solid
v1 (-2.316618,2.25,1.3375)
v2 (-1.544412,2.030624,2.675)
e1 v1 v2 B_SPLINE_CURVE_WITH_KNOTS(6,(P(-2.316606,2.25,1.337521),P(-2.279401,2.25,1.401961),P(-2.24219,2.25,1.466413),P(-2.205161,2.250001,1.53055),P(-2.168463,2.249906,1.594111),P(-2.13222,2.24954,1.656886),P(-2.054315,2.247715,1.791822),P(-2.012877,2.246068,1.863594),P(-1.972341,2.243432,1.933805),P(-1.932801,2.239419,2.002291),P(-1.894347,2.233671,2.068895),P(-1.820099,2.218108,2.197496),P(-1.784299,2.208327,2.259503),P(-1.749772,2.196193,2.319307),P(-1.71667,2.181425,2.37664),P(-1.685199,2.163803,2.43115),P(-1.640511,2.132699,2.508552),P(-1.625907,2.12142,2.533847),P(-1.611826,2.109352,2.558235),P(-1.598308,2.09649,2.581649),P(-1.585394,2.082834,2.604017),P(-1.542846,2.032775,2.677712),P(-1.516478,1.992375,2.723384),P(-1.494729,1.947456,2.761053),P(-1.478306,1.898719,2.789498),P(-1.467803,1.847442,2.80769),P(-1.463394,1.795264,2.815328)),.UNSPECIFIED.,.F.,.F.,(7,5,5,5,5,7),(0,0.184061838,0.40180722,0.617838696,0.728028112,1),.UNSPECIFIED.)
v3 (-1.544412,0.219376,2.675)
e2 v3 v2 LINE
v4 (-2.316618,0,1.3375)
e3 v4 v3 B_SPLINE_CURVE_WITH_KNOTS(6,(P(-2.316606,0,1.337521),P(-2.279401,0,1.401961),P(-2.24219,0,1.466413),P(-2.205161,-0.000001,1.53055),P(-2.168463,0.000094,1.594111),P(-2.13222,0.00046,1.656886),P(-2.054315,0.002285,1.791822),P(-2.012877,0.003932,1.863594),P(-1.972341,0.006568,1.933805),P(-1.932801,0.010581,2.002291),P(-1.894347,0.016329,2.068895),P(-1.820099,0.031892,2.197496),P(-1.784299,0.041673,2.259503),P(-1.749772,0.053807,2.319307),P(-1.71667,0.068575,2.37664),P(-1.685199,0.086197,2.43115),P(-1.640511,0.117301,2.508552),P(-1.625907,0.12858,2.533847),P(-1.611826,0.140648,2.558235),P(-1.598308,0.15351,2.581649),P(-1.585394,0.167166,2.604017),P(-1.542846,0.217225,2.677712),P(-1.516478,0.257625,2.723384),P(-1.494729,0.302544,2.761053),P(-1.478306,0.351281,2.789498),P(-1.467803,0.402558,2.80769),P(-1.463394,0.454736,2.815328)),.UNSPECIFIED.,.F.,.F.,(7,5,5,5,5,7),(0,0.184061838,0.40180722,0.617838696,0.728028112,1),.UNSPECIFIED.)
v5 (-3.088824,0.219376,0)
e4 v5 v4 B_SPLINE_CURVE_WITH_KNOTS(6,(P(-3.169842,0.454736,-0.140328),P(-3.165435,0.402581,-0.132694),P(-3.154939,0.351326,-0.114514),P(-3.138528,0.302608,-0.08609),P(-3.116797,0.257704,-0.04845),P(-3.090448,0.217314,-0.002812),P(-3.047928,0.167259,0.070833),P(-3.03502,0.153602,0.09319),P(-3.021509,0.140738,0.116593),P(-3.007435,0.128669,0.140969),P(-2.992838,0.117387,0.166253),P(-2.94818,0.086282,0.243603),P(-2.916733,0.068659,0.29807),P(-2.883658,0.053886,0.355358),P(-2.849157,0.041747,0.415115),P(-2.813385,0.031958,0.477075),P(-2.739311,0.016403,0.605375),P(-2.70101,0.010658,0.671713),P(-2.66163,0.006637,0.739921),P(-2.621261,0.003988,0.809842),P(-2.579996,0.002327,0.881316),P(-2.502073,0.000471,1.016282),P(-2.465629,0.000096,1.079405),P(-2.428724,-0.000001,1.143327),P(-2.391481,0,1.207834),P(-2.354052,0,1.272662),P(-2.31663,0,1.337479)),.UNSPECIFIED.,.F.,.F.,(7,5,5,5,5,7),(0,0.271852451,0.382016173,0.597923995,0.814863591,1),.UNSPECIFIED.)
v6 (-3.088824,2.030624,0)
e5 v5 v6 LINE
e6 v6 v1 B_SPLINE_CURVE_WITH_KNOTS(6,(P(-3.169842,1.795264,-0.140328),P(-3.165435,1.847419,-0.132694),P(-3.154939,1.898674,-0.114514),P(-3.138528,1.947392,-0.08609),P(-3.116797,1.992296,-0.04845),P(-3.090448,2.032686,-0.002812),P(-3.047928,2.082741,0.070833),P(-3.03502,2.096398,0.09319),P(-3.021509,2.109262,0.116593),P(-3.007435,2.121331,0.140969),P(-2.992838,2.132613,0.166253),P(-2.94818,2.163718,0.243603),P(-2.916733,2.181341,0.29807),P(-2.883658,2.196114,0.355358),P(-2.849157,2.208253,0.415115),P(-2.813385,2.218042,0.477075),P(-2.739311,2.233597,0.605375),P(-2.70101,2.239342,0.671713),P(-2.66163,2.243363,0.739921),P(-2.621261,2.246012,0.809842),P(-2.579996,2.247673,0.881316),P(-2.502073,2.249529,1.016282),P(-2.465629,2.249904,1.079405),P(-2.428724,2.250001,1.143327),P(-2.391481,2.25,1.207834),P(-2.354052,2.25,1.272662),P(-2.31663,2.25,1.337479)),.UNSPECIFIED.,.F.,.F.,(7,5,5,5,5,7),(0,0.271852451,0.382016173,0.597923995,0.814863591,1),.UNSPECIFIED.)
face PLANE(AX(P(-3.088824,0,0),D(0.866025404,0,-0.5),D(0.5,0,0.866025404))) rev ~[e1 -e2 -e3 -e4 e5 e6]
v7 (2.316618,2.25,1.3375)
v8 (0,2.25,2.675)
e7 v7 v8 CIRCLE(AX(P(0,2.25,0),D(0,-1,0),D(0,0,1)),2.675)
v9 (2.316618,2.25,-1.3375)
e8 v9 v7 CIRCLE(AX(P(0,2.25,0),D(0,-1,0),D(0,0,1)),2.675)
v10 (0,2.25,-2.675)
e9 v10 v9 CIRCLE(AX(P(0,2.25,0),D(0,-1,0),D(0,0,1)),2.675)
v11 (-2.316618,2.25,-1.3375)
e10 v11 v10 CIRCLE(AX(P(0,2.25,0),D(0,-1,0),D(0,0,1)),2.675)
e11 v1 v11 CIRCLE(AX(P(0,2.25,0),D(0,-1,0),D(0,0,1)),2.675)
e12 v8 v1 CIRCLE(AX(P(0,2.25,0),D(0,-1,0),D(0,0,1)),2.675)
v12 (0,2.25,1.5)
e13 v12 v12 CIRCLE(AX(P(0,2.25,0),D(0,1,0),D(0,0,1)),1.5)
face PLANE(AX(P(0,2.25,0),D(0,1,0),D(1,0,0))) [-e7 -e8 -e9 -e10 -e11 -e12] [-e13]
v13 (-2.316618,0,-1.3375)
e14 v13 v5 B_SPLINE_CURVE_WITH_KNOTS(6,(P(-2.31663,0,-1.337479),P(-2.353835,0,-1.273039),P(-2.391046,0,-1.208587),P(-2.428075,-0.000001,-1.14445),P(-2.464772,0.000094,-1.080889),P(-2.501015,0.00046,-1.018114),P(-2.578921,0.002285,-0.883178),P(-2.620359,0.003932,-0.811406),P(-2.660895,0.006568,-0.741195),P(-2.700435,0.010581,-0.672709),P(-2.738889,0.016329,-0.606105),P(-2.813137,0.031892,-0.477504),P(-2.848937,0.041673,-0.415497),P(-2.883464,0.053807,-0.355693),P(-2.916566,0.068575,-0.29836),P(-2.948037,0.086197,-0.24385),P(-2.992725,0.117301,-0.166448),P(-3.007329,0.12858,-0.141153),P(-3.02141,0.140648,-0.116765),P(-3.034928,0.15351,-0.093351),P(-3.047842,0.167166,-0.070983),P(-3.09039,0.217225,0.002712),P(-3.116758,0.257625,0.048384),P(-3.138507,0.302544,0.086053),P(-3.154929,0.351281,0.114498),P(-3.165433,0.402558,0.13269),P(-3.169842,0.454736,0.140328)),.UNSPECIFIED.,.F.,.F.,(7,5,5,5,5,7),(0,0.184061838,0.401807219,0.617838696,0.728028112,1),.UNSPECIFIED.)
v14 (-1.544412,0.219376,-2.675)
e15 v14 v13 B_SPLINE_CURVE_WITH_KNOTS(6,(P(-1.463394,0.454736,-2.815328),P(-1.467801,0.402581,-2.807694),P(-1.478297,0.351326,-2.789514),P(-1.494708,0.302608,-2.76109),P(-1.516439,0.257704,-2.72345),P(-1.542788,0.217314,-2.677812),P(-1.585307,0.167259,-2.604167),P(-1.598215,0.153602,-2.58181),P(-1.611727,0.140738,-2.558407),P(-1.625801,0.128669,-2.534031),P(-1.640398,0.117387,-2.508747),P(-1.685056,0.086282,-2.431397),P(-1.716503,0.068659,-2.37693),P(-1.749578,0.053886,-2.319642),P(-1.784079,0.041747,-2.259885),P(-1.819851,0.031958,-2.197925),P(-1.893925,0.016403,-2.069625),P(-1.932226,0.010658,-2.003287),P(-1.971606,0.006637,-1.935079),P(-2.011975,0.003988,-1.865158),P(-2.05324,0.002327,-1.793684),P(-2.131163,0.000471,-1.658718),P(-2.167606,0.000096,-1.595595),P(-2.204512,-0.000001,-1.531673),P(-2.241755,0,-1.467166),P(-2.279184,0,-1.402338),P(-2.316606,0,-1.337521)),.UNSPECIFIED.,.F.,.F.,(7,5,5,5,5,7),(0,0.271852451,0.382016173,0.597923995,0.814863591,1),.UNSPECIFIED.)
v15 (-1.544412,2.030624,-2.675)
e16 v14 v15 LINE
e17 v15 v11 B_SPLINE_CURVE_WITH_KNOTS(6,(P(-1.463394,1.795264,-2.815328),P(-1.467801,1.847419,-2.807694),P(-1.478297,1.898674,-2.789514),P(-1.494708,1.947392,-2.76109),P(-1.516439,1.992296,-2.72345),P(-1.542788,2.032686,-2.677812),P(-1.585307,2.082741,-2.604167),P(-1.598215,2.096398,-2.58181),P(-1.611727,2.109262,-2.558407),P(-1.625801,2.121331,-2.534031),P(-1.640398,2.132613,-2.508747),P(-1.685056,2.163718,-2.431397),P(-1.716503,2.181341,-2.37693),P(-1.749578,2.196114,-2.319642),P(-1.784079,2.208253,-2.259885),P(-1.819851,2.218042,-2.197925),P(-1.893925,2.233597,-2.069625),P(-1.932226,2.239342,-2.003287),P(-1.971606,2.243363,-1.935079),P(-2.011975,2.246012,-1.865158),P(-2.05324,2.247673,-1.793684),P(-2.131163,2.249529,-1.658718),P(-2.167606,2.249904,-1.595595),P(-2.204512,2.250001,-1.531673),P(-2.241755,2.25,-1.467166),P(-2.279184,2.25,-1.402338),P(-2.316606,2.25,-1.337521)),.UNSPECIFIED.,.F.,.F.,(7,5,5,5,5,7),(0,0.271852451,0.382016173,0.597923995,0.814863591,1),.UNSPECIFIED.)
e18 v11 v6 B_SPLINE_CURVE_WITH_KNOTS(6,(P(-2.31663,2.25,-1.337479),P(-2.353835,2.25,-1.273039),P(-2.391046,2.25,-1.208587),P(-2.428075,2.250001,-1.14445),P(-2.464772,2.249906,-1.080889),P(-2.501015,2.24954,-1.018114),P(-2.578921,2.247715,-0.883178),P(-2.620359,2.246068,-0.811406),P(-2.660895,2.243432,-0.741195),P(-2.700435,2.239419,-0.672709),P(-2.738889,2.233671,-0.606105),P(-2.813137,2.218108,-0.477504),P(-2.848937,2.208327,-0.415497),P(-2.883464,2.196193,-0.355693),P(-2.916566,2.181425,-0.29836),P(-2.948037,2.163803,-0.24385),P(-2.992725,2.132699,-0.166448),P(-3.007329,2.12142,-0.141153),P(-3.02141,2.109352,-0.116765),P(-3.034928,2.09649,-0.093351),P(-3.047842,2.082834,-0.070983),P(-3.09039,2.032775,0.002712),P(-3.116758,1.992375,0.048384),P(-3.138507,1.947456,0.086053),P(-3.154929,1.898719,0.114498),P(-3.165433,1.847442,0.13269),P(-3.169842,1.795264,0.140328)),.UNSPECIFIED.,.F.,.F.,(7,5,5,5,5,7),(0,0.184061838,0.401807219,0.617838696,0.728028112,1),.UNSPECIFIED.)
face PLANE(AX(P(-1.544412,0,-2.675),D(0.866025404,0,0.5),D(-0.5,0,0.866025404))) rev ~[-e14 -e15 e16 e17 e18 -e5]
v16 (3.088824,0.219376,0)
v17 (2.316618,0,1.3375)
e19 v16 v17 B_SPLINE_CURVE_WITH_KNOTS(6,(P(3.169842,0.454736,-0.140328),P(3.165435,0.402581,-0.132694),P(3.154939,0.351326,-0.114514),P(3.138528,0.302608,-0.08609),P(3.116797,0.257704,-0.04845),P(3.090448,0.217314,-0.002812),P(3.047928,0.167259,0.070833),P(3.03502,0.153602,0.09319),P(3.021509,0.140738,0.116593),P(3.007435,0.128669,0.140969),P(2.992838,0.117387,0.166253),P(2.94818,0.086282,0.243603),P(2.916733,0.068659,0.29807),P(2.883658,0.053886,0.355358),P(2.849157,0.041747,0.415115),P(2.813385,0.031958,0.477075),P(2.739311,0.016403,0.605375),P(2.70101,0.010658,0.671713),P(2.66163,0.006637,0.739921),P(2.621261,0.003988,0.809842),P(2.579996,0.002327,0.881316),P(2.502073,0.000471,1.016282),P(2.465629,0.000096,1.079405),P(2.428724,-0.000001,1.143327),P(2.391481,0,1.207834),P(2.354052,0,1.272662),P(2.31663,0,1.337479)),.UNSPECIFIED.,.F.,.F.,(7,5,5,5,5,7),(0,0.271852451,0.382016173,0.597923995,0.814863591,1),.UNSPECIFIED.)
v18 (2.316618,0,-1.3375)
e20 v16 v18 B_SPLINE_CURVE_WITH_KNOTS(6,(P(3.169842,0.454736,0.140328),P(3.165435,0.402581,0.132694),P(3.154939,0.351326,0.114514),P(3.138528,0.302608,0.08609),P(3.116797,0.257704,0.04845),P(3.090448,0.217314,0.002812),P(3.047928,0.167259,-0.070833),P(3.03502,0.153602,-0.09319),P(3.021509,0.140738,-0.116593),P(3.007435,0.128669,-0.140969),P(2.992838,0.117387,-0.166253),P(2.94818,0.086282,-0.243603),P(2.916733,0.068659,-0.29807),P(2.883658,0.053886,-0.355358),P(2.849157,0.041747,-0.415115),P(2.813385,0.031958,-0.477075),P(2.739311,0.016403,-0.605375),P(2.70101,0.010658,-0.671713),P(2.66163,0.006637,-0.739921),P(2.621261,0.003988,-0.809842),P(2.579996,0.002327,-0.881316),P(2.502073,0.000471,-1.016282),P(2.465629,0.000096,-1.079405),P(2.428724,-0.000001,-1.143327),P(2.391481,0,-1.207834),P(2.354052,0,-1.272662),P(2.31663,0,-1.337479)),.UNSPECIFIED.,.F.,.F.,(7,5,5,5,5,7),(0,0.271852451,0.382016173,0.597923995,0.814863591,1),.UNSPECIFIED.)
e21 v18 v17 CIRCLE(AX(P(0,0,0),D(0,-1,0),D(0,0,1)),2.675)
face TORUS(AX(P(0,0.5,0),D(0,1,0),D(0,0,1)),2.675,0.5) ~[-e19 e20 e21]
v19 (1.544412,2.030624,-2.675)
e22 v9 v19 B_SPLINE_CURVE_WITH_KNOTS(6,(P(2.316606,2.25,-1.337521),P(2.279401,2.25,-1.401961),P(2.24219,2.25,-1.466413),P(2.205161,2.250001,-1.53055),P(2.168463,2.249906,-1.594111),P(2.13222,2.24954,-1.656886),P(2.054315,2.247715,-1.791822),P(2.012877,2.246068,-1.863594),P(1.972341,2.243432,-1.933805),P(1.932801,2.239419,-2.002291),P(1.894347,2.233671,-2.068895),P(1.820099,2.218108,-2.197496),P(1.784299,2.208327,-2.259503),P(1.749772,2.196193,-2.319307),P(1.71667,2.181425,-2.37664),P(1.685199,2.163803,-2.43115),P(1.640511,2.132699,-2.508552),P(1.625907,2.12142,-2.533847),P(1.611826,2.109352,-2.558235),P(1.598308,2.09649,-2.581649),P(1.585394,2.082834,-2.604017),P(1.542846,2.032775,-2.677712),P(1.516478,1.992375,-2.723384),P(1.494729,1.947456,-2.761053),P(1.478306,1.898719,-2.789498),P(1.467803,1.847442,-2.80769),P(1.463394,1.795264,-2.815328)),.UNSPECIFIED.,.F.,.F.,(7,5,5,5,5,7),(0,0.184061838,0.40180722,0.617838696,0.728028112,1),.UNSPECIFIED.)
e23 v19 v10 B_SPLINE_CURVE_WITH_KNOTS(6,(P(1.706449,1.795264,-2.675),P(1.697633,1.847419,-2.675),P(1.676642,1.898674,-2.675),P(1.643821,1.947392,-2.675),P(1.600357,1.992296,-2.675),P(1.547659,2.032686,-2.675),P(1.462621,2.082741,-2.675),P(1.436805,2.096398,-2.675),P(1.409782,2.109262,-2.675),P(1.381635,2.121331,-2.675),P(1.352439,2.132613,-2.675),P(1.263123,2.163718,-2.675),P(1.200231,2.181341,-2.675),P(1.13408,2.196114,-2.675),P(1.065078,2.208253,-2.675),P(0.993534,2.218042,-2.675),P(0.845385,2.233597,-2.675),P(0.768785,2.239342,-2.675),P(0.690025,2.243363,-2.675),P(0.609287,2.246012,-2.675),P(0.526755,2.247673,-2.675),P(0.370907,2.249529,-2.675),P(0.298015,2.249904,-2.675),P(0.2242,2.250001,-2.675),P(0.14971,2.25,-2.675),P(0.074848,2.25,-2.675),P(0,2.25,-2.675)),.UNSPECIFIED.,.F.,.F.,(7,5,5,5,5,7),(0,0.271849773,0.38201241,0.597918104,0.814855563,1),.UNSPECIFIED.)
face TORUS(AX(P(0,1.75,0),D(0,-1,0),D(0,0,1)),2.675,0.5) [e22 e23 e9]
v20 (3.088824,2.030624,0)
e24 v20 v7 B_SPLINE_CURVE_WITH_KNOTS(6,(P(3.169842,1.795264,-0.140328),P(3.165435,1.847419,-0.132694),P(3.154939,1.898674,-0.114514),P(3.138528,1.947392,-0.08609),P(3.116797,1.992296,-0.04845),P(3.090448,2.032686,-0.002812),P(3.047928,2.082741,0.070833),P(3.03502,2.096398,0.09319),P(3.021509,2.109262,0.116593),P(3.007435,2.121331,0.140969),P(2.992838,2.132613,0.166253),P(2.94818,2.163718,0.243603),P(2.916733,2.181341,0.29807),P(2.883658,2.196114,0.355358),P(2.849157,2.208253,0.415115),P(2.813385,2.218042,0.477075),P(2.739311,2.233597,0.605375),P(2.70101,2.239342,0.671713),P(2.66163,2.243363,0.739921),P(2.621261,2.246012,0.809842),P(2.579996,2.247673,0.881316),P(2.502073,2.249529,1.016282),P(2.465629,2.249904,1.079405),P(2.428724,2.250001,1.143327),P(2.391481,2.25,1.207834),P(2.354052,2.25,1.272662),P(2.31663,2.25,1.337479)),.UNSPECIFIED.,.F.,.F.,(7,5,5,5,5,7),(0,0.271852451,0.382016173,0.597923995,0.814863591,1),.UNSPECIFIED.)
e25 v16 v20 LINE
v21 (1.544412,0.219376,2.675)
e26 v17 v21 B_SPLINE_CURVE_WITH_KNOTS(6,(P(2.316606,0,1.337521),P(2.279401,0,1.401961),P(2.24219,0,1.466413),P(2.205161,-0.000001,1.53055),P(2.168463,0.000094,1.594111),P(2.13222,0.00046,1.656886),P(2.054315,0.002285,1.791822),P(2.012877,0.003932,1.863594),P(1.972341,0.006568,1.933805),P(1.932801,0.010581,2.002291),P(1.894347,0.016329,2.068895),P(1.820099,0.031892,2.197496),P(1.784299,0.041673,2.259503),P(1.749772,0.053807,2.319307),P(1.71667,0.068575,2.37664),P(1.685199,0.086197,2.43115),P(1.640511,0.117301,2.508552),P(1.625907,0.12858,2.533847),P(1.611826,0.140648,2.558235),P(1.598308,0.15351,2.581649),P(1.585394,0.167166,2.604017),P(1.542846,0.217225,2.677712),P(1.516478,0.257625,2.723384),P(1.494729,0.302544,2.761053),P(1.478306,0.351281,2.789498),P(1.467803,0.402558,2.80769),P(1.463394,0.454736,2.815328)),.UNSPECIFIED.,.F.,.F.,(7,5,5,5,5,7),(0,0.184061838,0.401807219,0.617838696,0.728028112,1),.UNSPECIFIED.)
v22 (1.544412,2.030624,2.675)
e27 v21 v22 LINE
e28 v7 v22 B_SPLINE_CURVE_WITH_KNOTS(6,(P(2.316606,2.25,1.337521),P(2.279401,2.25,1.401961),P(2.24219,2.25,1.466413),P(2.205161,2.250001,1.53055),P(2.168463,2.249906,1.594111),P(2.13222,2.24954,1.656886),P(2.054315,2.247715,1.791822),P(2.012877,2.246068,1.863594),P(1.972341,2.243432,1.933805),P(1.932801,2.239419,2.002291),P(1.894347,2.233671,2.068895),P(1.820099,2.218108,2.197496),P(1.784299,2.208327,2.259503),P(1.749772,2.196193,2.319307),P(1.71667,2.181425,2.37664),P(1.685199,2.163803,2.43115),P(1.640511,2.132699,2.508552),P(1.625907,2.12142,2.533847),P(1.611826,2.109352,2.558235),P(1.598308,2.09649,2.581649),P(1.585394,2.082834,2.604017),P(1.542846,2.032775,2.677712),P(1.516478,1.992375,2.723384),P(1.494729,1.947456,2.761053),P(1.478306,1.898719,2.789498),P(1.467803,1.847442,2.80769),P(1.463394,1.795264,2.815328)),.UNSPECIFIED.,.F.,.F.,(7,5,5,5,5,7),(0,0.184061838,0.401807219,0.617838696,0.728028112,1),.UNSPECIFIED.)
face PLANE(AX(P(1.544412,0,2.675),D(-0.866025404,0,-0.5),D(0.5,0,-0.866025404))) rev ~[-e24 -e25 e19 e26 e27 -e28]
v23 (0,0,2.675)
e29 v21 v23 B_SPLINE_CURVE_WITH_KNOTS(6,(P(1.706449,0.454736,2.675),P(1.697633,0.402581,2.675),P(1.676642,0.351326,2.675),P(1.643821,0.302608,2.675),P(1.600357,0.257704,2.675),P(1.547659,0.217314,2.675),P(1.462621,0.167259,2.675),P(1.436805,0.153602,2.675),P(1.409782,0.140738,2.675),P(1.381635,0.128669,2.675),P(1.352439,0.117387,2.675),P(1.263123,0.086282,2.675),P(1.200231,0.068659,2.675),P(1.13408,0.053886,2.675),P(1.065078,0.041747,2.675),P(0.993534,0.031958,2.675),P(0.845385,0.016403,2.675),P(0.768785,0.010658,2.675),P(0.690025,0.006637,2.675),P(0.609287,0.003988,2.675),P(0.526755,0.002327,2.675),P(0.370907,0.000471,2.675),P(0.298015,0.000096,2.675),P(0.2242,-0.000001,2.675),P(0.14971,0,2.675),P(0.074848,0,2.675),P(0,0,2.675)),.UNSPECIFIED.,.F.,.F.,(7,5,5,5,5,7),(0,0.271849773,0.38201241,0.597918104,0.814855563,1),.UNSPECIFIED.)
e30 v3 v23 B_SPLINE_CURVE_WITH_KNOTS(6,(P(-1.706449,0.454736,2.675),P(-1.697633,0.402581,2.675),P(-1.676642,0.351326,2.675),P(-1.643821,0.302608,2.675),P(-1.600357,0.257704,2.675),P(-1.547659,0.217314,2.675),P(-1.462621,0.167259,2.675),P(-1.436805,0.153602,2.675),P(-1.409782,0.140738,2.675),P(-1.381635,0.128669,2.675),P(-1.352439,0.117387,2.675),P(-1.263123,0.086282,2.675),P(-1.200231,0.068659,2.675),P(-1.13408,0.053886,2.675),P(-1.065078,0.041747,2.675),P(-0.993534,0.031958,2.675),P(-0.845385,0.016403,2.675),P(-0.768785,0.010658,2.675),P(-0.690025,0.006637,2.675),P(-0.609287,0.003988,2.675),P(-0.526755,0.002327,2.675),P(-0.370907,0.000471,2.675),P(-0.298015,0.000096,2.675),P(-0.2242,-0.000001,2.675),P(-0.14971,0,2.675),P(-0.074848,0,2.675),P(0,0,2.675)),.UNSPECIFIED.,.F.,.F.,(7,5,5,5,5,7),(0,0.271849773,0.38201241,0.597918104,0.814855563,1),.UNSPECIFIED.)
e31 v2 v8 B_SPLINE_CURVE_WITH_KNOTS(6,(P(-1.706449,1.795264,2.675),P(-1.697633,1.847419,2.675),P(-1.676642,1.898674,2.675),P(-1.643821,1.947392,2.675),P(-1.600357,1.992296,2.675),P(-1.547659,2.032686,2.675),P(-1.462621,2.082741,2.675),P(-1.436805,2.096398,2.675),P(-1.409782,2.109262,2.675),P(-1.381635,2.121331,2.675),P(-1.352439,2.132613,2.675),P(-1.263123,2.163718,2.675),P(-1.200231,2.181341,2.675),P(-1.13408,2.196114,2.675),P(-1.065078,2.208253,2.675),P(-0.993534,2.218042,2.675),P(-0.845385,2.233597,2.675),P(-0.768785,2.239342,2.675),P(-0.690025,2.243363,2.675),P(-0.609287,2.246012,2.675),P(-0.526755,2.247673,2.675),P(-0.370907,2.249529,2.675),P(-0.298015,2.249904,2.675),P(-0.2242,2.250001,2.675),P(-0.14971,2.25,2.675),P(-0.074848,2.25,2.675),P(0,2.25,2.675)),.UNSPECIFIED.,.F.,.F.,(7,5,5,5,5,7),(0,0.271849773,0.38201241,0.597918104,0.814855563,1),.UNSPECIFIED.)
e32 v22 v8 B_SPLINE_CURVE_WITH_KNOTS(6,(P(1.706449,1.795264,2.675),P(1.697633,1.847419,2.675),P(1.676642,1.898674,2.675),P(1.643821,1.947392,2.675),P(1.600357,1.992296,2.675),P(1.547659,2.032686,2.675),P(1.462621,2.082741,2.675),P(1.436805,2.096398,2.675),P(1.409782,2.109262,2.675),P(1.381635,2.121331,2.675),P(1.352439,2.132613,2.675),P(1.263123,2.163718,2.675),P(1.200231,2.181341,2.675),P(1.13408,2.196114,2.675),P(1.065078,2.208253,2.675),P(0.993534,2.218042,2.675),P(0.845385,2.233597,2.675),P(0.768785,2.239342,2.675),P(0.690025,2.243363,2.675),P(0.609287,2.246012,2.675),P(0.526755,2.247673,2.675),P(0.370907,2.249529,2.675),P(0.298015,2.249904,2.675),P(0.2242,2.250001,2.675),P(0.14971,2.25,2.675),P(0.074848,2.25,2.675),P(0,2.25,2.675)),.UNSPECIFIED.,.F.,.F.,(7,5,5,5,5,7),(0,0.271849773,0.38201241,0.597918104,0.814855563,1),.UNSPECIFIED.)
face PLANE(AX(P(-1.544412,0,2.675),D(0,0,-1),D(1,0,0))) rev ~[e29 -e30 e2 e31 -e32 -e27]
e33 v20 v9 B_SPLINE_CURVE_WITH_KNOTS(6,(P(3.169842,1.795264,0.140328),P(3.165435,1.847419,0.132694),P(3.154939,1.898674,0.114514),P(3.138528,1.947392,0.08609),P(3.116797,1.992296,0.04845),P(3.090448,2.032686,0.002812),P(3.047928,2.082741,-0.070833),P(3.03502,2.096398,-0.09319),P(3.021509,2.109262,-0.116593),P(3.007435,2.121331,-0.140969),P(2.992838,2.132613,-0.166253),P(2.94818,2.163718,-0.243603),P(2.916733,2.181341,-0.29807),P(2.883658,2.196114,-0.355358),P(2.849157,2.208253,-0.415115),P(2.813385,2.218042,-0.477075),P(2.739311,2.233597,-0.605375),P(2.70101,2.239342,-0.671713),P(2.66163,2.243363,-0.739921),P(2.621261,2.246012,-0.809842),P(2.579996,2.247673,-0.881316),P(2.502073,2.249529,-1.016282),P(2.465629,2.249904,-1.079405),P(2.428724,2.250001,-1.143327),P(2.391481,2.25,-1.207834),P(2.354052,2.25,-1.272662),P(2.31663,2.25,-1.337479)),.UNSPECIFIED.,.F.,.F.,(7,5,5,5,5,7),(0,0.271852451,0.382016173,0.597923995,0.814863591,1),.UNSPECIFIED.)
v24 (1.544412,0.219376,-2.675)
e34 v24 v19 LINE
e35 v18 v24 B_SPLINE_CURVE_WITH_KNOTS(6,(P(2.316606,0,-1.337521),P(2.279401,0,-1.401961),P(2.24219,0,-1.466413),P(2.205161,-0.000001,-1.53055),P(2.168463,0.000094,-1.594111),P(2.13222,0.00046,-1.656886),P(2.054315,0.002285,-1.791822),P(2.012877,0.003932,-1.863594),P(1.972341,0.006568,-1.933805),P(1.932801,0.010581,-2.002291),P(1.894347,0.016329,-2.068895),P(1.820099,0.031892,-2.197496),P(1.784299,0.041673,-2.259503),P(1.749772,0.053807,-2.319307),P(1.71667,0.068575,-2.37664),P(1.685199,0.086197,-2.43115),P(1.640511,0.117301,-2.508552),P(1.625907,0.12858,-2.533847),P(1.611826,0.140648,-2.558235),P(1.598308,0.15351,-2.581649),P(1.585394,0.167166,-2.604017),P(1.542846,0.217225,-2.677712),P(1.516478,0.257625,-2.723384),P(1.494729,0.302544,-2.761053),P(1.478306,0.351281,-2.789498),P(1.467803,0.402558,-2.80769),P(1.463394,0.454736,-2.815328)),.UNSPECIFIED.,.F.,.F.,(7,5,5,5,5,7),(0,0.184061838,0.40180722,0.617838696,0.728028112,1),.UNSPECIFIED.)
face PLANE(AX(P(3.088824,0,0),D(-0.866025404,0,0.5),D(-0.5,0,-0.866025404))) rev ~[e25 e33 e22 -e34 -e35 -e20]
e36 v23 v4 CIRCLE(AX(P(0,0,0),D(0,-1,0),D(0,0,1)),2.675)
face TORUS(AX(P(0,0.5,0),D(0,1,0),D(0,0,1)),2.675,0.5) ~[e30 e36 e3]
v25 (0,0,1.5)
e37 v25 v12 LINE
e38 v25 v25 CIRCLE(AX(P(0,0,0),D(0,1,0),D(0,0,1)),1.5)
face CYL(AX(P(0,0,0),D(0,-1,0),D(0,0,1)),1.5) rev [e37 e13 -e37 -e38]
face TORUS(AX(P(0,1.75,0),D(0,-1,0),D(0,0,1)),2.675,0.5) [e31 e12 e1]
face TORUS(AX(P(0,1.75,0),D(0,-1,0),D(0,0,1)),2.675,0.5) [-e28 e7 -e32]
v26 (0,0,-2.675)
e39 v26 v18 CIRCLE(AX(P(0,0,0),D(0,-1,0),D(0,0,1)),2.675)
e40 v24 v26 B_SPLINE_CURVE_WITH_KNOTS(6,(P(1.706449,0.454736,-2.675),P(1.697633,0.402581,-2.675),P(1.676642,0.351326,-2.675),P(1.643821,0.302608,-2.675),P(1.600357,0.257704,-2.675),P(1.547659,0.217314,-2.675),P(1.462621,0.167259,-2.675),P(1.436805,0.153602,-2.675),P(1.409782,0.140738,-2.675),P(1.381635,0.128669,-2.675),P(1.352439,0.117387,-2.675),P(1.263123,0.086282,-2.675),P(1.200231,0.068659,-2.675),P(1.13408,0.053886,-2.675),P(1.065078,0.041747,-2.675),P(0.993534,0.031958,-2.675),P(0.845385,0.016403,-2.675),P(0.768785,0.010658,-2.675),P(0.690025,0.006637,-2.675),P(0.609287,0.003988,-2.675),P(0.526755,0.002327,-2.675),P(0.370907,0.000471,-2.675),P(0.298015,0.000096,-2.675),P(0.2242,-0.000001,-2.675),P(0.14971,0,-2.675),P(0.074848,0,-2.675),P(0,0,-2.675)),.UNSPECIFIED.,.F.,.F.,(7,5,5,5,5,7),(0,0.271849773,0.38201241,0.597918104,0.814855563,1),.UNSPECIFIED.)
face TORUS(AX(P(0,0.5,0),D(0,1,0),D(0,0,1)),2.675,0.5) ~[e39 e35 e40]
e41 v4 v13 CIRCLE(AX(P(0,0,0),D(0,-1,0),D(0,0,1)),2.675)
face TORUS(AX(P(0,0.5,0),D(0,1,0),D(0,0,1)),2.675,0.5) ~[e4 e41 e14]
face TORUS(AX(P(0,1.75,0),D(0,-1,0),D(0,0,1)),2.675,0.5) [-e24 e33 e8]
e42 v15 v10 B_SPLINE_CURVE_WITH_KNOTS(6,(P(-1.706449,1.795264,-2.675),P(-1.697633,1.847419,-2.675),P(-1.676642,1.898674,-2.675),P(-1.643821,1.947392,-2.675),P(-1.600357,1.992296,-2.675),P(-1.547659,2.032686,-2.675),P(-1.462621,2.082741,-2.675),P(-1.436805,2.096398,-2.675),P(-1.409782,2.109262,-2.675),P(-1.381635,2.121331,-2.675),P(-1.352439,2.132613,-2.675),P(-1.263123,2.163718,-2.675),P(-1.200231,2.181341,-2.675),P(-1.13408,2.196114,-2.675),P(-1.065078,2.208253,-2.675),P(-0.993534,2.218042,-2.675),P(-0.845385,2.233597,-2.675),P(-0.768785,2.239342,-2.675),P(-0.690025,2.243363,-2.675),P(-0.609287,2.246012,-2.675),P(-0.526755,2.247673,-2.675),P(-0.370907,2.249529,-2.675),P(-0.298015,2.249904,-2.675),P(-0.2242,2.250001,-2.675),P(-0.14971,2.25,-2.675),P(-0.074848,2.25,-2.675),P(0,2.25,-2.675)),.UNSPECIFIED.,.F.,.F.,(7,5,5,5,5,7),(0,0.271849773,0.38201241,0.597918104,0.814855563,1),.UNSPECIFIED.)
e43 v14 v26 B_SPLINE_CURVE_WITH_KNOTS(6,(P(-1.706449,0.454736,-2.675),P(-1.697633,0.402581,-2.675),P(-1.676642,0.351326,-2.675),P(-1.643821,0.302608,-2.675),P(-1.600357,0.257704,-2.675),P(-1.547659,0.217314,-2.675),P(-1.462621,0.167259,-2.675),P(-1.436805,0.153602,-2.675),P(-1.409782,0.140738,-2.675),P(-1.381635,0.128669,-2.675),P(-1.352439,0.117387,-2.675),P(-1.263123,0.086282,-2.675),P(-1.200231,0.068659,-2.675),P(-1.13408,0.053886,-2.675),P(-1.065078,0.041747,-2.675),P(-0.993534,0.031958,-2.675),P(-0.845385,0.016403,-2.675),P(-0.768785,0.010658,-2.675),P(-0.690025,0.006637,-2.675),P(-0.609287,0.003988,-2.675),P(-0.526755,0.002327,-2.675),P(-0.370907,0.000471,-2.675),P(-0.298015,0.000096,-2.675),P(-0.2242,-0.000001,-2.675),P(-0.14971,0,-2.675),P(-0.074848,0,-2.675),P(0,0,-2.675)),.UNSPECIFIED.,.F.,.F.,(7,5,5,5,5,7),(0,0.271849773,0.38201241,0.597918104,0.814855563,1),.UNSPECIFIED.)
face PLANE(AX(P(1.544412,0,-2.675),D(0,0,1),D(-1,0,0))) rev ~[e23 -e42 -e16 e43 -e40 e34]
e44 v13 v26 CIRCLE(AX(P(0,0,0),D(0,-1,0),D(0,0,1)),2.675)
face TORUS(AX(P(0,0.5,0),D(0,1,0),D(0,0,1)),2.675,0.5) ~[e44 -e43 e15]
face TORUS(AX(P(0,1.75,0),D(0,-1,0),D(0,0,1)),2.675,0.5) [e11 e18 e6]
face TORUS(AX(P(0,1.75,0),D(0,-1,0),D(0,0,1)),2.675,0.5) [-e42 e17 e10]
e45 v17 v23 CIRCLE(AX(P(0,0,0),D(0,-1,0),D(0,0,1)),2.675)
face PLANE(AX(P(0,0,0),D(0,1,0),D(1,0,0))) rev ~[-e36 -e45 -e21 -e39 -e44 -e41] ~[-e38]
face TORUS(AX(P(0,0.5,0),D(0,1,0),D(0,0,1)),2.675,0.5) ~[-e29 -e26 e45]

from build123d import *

# Parameters (mm, degrees)
SKETCH1_R           = 1.5
BOSS_EXTRUDE1_DEPTH = 2.25


with BuildPart() as part:
    # Sketch1 → Boss-Extrude1 (new body)
    with BuildSketch(Plane(origin=(0, 0, 0), x_dir=(1, 0, 0), z_dir=(0, 1, 0))):
        Polygon((1.54441197, 2.675), (-1.54441197, 2.675), (-3.08882394, 0), (-1.54441197, -2.675), (1.54441197, -2.675), (3.08882394, 0), align=None)
        with Locations(Location((0, 0, 0), (0, 0, 270))):
            Circle(SKETCH1_R, mode=Mode.SUBTRACT)
    extrude(amount=BOSS_EXTRUDE1_DEPTH)

    # Sketch2 → Cut-Revolve1 (revolve, cut)
    with BuildSketch(Plane(origin=(0, 0, 0), x_dir=(0, 0, -1), z_dir=(1, 0, 0))):
        with BuildLine():
            Line((0, 2.25), (-2.675, 2.25))
            ThreePointArc((-2.675, 2.25), (-3.012170516, 2.119210025), (-3.17294694, 1.795264171))
            Line((-3.17294694, 1.795264171), (-3.317266919, 1.795264171))
            Line((-3.317266919, 1.795264171), (-3.317266919, 2.57459206))
            Line((-3.317266919, 2.57459206), (0, 2.57459206))
            Line((0, 2.57459206), (0, 2.25))
        make_face()
        with BuildLine():
            Line((0, -0.32459206), (0, 0))
            Line((0, 0), (-2.675, 0))
            ThreePointArc((-2.675, 0), (-3.012170516, 0.130789975), (-3.17294694, 0.454735829))
            Line((-3.17294694, 0.454735829), (-3.317266919, 0.454735829))
            Line((-3.317266919, 0.454735829), (-3.317266919, -0.32459206))
            Line((-3.317266919, -0.32459206), (0, -0.32459206))
        make_face()
    revolve(axis=Axis((0, 2.25, 0), (0, -1, 0)), mode=Mode.SUBTRACT)


solid = part.part
